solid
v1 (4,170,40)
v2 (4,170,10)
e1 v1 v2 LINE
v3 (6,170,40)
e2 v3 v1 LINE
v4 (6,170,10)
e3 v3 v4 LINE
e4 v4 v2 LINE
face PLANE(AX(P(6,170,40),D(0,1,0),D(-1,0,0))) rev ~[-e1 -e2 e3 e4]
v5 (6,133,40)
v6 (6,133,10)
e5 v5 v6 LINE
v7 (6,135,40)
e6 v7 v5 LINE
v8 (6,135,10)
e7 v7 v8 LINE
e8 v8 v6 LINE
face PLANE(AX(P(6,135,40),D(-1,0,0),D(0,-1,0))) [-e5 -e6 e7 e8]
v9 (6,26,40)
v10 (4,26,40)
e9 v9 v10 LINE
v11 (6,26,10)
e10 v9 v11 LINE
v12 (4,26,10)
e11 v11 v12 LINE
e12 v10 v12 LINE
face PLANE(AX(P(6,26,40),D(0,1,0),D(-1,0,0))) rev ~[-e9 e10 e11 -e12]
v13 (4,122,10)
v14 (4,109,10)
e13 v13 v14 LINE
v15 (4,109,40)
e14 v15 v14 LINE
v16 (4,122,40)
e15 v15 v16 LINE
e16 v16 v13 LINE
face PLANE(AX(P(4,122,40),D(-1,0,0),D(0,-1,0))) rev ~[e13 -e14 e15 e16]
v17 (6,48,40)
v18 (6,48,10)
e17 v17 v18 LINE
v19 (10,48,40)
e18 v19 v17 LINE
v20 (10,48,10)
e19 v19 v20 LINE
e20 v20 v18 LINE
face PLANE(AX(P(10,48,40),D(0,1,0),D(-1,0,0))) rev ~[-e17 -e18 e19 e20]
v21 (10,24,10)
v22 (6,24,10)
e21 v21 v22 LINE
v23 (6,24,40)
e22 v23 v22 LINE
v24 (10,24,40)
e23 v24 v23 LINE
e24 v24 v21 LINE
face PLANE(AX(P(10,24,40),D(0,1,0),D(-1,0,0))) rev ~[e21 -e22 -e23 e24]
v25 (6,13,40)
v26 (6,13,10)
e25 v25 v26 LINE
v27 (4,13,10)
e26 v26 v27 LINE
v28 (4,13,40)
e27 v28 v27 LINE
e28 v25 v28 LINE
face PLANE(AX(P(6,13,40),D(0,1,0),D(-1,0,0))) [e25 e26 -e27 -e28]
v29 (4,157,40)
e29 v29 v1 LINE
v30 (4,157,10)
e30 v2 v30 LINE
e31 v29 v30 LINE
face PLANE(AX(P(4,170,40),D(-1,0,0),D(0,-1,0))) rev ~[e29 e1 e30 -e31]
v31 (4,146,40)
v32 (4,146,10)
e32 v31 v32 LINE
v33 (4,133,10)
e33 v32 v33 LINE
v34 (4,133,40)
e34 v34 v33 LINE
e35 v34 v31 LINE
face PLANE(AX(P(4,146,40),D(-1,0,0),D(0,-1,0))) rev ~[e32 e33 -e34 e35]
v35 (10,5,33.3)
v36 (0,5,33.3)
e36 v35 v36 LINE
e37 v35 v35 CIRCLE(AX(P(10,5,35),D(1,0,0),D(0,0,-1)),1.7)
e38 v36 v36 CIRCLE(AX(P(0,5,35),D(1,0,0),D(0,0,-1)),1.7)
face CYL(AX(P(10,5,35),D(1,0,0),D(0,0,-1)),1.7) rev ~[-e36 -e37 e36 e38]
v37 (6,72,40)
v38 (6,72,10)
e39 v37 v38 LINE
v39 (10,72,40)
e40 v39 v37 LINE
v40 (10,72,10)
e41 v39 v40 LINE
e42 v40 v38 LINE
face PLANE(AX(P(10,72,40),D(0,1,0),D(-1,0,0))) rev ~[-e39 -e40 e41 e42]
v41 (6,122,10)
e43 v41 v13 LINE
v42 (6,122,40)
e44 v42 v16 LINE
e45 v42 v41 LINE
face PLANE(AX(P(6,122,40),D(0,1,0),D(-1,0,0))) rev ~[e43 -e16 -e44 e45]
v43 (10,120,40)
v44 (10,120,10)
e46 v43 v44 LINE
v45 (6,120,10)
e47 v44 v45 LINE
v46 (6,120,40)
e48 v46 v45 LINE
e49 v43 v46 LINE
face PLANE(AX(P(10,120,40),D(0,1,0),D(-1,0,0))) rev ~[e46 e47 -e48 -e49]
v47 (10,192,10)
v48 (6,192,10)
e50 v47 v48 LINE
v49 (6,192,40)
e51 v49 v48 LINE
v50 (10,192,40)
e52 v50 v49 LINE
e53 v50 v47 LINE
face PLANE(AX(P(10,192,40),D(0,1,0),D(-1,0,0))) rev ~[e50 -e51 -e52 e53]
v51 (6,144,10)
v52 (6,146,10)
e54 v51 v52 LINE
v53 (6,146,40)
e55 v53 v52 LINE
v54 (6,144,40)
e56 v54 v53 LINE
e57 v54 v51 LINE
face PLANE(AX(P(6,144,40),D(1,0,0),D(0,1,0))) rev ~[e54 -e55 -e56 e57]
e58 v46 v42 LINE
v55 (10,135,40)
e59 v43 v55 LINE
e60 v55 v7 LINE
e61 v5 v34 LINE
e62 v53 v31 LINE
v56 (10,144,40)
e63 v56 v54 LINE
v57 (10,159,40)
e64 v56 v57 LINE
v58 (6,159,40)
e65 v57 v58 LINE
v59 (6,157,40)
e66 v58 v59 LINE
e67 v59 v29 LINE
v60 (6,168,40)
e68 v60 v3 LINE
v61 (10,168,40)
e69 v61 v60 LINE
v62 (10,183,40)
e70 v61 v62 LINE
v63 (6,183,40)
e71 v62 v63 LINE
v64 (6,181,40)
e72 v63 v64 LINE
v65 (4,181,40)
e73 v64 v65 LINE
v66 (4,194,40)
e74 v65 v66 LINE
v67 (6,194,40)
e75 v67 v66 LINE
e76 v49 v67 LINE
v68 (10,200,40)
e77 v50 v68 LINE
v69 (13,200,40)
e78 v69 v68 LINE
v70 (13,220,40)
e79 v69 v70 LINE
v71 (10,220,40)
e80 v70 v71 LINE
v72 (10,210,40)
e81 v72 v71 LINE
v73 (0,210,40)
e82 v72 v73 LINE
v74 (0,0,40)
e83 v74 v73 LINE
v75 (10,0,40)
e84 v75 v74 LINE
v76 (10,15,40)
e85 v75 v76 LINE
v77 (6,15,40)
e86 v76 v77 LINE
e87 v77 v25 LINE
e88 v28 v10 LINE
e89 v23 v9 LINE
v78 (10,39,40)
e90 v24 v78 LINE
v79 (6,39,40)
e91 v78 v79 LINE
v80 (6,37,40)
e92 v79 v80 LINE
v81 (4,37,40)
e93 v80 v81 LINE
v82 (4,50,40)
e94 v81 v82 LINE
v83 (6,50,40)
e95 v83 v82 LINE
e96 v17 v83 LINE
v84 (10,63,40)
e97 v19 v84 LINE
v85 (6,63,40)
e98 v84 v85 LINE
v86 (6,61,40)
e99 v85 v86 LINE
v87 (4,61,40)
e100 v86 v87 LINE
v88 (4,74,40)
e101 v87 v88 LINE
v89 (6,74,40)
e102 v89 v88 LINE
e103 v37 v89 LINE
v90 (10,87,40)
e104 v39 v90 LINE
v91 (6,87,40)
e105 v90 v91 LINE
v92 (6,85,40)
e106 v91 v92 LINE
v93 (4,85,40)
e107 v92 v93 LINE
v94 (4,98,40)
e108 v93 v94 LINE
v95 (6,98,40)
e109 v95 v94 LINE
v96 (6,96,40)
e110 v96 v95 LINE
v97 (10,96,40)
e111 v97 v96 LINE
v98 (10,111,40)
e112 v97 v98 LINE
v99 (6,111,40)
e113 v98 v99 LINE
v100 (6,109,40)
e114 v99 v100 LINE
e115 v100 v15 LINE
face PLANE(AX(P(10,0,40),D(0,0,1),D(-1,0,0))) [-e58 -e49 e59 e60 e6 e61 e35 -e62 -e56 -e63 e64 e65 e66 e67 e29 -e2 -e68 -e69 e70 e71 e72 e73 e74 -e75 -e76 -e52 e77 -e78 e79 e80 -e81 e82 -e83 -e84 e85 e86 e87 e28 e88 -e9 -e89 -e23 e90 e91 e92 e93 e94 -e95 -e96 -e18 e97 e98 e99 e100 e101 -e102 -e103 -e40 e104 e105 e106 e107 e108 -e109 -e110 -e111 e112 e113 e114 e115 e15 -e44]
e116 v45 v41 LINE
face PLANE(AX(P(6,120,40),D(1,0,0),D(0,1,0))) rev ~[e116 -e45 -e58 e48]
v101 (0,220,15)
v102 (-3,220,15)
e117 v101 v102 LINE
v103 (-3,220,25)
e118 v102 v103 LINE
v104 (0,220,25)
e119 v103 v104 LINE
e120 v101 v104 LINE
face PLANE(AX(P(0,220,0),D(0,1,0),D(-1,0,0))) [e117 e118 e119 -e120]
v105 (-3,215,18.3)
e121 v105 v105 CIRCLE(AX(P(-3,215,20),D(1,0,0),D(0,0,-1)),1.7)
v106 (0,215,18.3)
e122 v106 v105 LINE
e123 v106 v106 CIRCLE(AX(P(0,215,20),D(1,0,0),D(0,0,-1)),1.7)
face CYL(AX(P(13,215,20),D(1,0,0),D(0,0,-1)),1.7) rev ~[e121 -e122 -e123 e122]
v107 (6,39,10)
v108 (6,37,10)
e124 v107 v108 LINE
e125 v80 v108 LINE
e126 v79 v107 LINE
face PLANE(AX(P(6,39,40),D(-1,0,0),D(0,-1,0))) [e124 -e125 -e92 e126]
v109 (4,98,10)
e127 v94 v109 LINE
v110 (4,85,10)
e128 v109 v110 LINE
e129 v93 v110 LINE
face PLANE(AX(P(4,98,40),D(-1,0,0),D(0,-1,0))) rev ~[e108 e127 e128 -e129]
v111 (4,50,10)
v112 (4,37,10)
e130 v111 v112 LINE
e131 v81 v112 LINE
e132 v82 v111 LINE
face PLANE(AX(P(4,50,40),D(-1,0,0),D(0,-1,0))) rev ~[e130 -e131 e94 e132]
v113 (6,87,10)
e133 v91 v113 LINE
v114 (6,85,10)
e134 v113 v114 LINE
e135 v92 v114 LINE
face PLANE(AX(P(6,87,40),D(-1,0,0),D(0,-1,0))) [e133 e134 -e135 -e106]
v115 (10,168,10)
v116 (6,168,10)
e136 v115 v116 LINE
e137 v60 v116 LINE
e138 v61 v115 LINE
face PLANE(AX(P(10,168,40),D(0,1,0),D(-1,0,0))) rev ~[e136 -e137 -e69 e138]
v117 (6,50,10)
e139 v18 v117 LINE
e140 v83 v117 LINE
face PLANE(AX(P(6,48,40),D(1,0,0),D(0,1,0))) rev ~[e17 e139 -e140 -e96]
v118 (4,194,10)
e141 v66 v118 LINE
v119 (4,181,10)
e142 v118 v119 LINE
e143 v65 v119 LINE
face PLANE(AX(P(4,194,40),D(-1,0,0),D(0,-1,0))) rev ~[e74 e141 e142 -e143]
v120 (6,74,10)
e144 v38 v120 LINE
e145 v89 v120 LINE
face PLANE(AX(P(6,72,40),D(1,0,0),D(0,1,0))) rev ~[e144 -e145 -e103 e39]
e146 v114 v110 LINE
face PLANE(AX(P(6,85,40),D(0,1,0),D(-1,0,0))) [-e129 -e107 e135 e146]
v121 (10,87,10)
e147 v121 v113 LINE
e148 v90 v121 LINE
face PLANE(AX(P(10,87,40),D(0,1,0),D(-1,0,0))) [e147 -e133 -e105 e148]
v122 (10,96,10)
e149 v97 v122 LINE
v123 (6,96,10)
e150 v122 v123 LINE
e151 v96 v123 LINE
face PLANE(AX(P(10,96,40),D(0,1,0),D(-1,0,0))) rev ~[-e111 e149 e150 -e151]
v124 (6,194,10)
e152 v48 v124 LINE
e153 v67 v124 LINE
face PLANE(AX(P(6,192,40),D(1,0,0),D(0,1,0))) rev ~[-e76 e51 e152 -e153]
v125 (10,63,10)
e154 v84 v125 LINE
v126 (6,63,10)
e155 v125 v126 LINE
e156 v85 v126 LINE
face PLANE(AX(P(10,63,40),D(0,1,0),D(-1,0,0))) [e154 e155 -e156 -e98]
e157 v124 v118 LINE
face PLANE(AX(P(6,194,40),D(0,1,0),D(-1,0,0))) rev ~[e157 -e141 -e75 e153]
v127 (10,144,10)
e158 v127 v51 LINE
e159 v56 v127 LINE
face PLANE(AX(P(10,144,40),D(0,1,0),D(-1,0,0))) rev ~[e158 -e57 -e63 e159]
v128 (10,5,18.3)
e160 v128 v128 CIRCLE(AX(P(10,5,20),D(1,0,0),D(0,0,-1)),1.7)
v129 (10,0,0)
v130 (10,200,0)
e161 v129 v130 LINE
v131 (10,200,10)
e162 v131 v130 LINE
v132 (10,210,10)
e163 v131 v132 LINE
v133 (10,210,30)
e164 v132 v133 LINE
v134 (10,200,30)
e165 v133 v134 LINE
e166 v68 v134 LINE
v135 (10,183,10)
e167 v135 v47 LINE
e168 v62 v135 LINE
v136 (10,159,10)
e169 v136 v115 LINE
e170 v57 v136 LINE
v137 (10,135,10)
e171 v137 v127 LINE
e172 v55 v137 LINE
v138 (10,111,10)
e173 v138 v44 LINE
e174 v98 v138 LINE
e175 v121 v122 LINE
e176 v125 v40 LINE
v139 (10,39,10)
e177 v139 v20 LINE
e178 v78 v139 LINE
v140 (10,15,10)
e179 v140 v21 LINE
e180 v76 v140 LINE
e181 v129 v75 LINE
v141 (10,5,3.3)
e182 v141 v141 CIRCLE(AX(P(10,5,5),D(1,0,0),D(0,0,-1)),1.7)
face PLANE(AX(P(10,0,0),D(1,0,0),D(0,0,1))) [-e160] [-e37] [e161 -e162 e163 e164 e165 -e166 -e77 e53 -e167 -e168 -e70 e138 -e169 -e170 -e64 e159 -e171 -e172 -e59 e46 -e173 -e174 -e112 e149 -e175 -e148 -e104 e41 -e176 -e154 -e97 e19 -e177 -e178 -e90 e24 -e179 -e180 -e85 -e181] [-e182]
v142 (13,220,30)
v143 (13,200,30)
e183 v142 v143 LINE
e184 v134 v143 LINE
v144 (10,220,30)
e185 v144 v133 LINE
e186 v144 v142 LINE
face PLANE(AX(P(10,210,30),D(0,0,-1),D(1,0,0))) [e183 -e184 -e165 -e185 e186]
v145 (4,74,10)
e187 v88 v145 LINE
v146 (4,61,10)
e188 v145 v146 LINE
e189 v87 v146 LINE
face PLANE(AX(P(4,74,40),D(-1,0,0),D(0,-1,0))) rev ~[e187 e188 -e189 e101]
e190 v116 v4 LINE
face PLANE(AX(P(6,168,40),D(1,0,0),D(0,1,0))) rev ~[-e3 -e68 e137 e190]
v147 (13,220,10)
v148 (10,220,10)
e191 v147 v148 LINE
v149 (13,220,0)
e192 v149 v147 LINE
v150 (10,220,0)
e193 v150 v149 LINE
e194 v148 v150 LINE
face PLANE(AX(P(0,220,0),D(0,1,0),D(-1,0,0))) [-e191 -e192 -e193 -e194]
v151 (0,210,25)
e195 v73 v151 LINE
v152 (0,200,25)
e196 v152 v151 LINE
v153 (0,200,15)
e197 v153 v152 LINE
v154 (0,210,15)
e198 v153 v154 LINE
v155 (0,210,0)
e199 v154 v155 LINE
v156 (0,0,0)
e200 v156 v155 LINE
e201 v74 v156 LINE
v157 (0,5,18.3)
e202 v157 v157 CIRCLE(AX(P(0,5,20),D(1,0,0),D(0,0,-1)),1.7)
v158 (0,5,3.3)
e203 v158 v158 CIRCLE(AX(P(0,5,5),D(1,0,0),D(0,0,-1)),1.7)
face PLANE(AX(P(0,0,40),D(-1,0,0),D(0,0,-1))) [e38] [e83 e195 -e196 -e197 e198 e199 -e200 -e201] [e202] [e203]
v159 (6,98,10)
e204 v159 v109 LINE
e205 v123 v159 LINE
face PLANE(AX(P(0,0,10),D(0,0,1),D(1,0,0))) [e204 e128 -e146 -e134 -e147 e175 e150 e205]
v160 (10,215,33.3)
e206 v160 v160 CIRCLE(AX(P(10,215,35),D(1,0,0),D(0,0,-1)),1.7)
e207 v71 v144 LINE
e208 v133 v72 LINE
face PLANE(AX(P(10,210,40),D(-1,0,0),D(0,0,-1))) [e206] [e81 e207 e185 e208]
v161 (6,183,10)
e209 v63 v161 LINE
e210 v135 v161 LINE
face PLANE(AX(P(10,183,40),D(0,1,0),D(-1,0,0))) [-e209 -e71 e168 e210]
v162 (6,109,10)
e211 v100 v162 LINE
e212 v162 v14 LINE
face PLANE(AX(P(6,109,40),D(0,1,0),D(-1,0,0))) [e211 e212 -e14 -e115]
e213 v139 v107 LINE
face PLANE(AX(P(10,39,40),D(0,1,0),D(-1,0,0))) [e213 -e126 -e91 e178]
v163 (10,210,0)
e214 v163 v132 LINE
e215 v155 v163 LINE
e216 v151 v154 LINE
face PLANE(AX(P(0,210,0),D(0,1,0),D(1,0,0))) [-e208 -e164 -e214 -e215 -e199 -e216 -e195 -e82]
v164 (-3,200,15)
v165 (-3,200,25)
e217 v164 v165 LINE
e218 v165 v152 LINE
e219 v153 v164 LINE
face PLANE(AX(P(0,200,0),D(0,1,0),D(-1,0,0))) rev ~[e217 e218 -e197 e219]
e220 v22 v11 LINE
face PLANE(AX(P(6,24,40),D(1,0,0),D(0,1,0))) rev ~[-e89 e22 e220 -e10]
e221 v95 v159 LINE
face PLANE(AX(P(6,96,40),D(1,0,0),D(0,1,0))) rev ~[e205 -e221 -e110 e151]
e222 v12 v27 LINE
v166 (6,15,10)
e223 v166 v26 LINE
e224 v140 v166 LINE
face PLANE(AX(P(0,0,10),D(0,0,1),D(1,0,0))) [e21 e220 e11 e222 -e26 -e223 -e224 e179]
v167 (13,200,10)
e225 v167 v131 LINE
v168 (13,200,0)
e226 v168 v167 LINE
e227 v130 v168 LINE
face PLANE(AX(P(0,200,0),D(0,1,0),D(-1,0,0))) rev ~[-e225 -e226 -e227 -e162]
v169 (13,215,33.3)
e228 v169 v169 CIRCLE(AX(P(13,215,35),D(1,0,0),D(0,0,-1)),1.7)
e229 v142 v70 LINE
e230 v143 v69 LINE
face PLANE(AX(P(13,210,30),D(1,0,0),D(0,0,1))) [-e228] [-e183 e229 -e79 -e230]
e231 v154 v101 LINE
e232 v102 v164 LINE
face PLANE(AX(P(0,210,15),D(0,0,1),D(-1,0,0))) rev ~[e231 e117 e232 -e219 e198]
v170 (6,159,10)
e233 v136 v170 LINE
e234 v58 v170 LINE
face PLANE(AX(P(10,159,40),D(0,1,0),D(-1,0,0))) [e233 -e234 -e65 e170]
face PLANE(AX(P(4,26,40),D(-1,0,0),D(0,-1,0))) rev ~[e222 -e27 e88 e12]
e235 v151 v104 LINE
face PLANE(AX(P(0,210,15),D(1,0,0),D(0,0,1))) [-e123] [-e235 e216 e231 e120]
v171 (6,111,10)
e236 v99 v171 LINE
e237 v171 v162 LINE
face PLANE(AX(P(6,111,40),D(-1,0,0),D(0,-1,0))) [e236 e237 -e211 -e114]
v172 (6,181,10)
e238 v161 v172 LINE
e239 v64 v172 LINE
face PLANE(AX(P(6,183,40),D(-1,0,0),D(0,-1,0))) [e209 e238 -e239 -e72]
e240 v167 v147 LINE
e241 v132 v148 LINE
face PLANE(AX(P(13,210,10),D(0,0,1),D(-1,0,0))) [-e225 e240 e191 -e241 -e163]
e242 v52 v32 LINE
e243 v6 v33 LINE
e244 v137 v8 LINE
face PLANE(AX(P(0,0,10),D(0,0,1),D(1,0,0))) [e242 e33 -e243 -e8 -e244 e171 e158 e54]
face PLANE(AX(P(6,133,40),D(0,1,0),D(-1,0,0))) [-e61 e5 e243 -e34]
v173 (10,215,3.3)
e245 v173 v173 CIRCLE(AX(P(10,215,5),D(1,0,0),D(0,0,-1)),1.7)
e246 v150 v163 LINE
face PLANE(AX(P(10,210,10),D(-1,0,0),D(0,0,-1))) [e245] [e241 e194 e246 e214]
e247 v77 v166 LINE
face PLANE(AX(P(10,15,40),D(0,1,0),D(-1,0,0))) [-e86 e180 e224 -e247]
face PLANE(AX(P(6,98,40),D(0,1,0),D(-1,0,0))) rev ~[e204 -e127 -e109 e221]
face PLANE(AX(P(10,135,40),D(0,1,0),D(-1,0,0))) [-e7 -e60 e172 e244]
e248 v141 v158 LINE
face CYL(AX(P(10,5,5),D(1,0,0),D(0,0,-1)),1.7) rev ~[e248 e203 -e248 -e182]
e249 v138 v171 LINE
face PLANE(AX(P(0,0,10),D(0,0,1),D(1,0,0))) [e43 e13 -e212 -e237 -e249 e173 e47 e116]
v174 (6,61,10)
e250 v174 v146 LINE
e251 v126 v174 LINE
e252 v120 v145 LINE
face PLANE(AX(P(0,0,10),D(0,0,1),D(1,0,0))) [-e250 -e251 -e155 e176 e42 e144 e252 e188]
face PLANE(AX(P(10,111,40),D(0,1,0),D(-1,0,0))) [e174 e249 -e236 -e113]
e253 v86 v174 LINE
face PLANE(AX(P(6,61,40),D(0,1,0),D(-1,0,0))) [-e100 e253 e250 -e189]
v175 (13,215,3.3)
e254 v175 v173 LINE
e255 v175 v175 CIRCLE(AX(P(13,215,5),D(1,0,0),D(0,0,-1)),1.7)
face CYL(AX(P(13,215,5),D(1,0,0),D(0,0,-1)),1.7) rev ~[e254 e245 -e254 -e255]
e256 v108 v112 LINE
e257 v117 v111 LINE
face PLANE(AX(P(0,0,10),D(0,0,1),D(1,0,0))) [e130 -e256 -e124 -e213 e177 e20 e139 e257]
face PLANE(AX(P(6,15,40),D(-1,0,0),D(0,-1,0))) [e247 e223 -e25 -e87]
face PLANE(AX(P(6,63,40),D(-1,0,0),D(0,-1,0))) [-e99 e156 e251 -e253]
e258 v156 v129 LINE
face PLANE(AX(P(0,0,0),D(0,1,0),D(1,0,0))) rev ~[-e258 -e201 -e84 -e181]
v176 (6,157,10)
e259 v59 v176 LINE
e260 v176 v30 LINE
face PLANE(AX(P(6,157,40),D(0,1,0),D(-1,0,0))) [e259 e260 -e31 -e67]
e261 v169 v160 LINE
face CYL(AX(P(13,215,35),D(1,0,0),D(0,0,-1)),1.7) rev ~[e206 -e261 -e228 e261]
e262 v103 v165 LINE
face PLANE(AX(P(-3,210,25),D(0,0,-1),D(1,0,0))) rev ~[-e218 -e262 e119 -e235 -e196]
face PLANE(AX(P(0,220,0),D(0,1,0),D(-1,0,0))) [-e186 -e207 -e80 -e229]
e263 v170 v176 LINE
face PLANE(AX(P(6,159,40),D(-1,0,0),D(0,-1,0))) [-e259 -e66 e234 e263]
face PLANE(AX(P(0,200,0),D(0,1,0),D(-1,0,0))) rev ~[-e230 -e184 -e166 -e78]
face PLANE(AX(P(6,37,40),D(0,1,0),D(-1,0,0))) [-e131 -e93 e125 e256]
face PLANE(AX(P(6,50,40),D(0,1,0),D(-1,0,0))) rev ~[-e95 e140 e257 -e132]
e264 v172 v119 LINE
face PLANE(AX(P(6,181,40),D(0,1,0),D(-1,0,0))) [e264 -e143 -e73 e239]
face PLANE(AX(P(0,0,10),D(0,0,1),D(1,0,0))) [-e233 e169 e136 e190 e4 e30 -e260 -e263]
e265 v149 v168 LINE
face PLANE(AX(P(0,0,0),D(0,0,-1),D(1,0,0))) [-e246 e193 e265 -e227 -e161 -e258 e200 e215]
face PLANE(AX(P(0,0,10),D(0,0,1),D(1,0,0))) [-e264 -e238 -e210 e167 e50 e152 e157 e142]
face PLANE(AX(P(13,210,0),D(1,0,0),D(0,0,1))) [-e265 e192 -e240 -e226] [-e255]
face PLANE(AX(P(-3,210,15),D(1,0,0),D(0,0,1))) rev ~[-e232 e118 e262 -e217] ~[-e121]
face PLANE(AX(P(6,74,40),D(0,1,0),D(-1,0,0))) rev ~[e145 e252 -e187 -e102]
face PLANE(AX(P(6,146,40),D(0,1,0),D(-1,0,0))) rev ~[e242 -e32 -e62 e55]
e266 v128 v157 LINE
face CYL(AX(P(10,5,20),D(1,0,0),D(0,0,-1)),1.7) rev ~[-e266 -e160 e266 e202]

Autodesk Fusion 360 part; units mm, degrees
sketch "Sketch1" plane through (0, 0, 0) normal (0, 1, 0) x (1, 0, 0)
  line L0 (0, 0) -> (10, 0)
  line L1 (10, 0) -> (10, -40)
  line L2 (10, -40) -> (0, -40)
  line L3 (0, -40) -> (0, 0)
  dimension "d1" = 10
  dimension "d2" = 40
extrude "Extrude1" add sketch "Sketch1" along normal blind 210
sketch "Sketch2" plane through (0, 210, 0) normal (0, 1, 0) x (-1, 0, 0)
  line L0 (0, 40) -> (-10, 40)
  line L1 (-10, 40) -> (-10, 0)
  line L2 (-10, 0) -> (0, 0)
  line L3 (0, 0) -> (0, 40)
  line L4 (0, 15) -> (3, 15)
  line L5 (3, 15) -> (3, 25)
  line L6 (3, 25) -> (0, 25)
  line L7 (0, 25) -> (0, 15)
  line L8 (-10, 0) -> (-13, 0)
  line L9 (-13, 0) -> (-13, 10)
  line L10 (-13, 10) -> (-10, 10)
  line L11 (-10, 10) -> (-10, 0)
  line L12 (-10, 30) -> (-13, 30)
  line L13 (-13, 30) -> (-13, 40)
  line L14 (-13, 40) -> (-10, 40)
  line L15 (-10, 40) -> (-10, 30)
  dimension "d5" = 3
  dimension "d10" = 3
  dimension "d11" = 3
extrude "Extrude2" add sketch "Sketch2" along normal blind 10 and the other way blind 10 contours L1 L12 L13 L14 L15 | L3 L4 L5 L6 L7 | L1 L8 L9 L10 L11
sketch "Sketch3" plane through (10, 0, 0) normal (1, 0, 0) x (0, 0, -1)
  line L0 (-10, 200) -> (-10, 210)
  line L1 (-10, 210) -> (-30, 210)
  line L2 (-30, 210) -> (-30, 200)
  line L3 (-30, 200) -> (-40, 200)
  line L4 (-40, 200) -> (-40, 0)
  line L5 (-40, 0) -> (0, 0)
  line L6 (0, 0) -> (0, 200)
  line L7 (0, 200) -> (-10, 200)
sketch "Sketch4" plane through (0, 0, 40) normal (0, 0, 1) x (1, 0, 0)
  line L0 (0, 0) -> (10, 0)
  line L1 (10, 0) -> (10, 200)
  line L2 (10, 200) -> (13, 200)
  line L3 (13, 200) -> (13, 220)
  line L4 (13, 220) -> (10, 220)
  line L5 (10, 220) -> (10, 210)
  line L6 (10, 210) -> (0, 210)
  line L7 (0, 210) -> (0, 0)
  line L8 (10, 15) -> (4, 15)
  line L9 (4, 15) -> (4, 20)
  line L10 (4, 20) -> (10, 20)
  line L11 (10, 20) -> (10, 15)
  line L12 (4, 20) -> (7, 20)
  line L13 (7, 20) -> (7, 22)
  line L14 (7, 22) -> (4, 22)
  line L15 (4, 22) -> (4, 20)
  line L16 (4, 22) -> (10, 22)
  line L17 (10, 22) -> (10, 24)
  line L18 (10, 24) -> (4, 24)
  line L19 (4, 24) -> (4, 22)
  line L20 (4, 44) -> (10, 44)
  line L21 (4, 46) -> (10, 46)
  line L22 (7, 44) -> (7, 46)
  line L23 (4, 46) -> (4, 44)
  line L24 (10, 48) -> (4, 48)
  line L25 (4, 39) -> (4, 44)
  line L26 (10, 39) -> (4, 39)
  line L27 (10, 44) -> (10, 39)
  line L28 (10, 46) -> (10, 48)
  line L29 (4, 48) -> (4, 46)
  line L30 (4, 68) -> (10, 68)
  line L31 (4, 70) -> (10, 70)
  line L32 (7, 68) -> (7, 70)
  line L33 (4, 70) -> (4, 68)
  line L34 (10, 72) -> (4, 72)
  line L35 (4, 63) -> (4, 68)
  line L36 (10, 63) -> (4, 63)
  line L37 (10, 68) -> (10, 63)
  line L38 (10, 70) -> (10, 72)
  line L39 (4, 72) -> (4, 70)
  line L40 (4, 92) -> (10, 92)
  line L41 (4, 94) -> (10, 94)
  line L42 (7, 92) -> (7, 94)
  line L43 (4, 94) -> (4, 92)
  line L44 (10, 96) -> (4, 96)
  line L45 (4, 87) -> (4, 92)
  line L46 (10, 87) -> (4, 87)
  line L47 (10, 92) -> (10, 87)
  line L48 (10, 94) -> (10, 96)
  line L49 (4, 96) -> (4, 94)
  line L50 (4, 116) -> (10, 116)
  line L51 (4, 118) -> (10, 118)
  line L52 (7, 116) -> (7, 118)
  line L53 (4, 118) -> (4, 116)
  line L54 (10, 120) -> (4, 120)
  line L55 (4, 111) -> (4, 116)
  line L56 (10, 111) -> (4, 111)
  line L57 (10, 116) -> (10, 111)
  line L58 (10, 118) -> (10, 120)
  line L59 (4, 120) -> (4, 118)
  line L60 (4, 140) -> (10, 140)
  line L61 (4, 142) -> (10, 142)
  line L62 (7, 140) -> (7, 142)
  line L63 (4, 142) -> (4, 140)
  line L64 (10, 144) -> (4, 144)
  line L65 (4, 135) -> (4, 140)
  line L66 (10, 135) -> (4, 135)
  line L67 (10, 140) -> (10, 135)
  line L68 (10, 142) -> (10, 144)
  line L69 (4, 144) -> (4, 142)
  line L70 (4, 164) -> (10, 164)
  line L71 (4, 166) -> (10, 166)
  line L72 (7, 164) -> (7, 166)
  line L73 (4, 166) -> (4, 164)
  line L74 (10, 168) -> (4, 168)
  line L75 (4, 159) -> (4, 164)
  line L76 (10, 159) -> (4, 159)
  line L77 (10, 164) -> (10, 159)
  line L78 (10, 166) -> (10, 168)
  line L79 (4, 168) -> (4, 166)
  line L80 (4, 188) -> (10, 188)
  line L81 (4, 190) -> (10, 190)
  line L82 (7, 188) -> (7, 190)
  line L83 (4, 190) -> (4, 188)
  line L84 (10, 192) -> (4, 192)
  line L85 (4, 183) -> (4, 188)
  line L86 (10, 183) -> (4, 183)
  line L87 (10, 188) -> (10, 183)
  line L88 (10, 190) -> (10, 192)
  line L89 (4, 192) -> (4, 190)
  dimension "d12" = 5
  dimension "d13" = 2
  dimension "d14" = 2
  dimension "d15" = 6
  dimension "d16" = 3
  dimension "d17" = 15
  dimension "d20" = 168
  dimension "d21" = 0
extrude "Extrude3" cut sketch "Sketch4" against normal blind 30 contours L1 L8 L9 L10 L11 L12 | L1 L10 L13 L16 | L1 L14 L16 L17 L18 L19 | L10 L12 L13 L14 L15 L16 | L1 L20 L25 L26 L27 | L1 L20 L21 L22 | L1 L81 L84 L88 L89 | L1 L21 L24 L28 L29 | L20 L21 L22 L23 | L1 L80 L81 L82 | L1 L80 L85 L86 L87 | L80 L81 L82 L83 | L1 L30 L35 L36 L37 | L1 L30 L31 L32 | L1 L71 L74 L78 L79 | L1 L31 L34 L38 L39 | L30 L31 L32 L33 | L1 L70 L71 L72 | L1 L70 L75 L76 L77 | L70 L71 L72 L73 | L1 L40 L45 L46 L47 | L1 L40 L41 L42 | L1 L61 L64 L68 L69 | L1 L41 L44 L48 L49 | L40 L41 L42 L43 | L1 L60 L61 L62 | L1 L60 L65 L66 L67 | L60 L61 L62 L63 | L1 L50 L55 L56 L57 | L1 L50 L51 L52 | L1 L51 L54 L58 L59 | L50 L51 L52 L53
sketch "Sketch6" plane through (0, 0, 40) normal (0, 0, 1) x (1, 0, 0)
  line L0 (4, 120) -> (10, 120)
  line L1 (10, 120) -> (10, 135)
  line L2 (10, 135) -> (4, 135)
  line L3 (4, 135) -> (4, 144)
  line L4 (4, 144) -> (10, 144)
  line L5 (10, 144) -> (10, 159)
  line L6 (10, 159) -> (4, 159)
  line L7 (4, 159) -> (4, 168)
  line L8 (4, 168) -> (10, 168)
  line L9 (10, 168) -> (10, 183)
  line L10 (10, 183) -> (4, 183)
  line L11 (4, 183) -> (4, 192)
  line L12 (4, 192) -> (10, 192)
  line L13 (10, 192) -> (10, 200)
  line L14 (10, 200) -> (13, 200)
  line L15 (13, 200) -> (13, 220)
  line L16 (13, 220) -> (10, 220)
  line L17 (10, 220) -> (10, 210)
  line L18 (10, 210) -> (0, 210)
  line L19 (0, 210) -> (0, 0)
  line L20 (0, 0) -> (10, 0)
  line L21 (10, 0) -> (10, 15)
  line L22 (10, 15) -> (4, 15)
  line L23 (4, 15) -> (4, 24)
  line L24 (4, 24) -> (10, 24)
  line L25 (10, 24) -> (10, 39)
  line L26 (10, 39) -> (4, 39)
  line L27 (4, 39) -> (4, 48)
  line L28 (4, 48) -> (10, 48)
  line L29 (10, 48) -> (10, 63)
  line L30 (10, 63) -> (4, 63)
  line L31 (4, 63) -> (4, 72)
  line L32 (4, 72) -> (10, 72)
  line L33 (10, 72) -> (10, 87)
  line L34 (10, 87) -> (4, 87)
  line L35 (4, 87) -> (4, 96)
  line L36 (4, 96) -> (10, 96)
  line L37 (10, 96) -> (10, 111)
  line L38 (10, 111) -> (4, 111)
  line L39 (4, 111) -> (4, 120)
  line L40 (4, 192) -> (6, 192)
  line L41 (6, 192) -> (6, 194)
  line L42 (6, 194) -> (4, 194)
  line L43 (4, 194) -> (4, 192)
  line L44 (4, 183) -> (6, 183)
  line L45 (6, 183) -> (6, 181)
  line L46 (6, 181) -> (4, 181)
  line L47 (4, 181) -> (4, 183)
  line L48 (6, 157) -> (4, 157)
  line L49 (6, 159) -> (6, 157)
  line L50 (4, 159) -> (6, 159)
  line L51 (4, 157) -> (4, 159)
  line L52 (4, 168) -> (6, 168)
  line L53 (6, 168) -> (6, 170)
  line L54 (6, 170) -> (4, 170)
  line L55 (4, 170) -> (4, 168)
  line L56 (6, 133) -> (4, 133)
  line L57 (6, 135) -> (6, 133)
  line L58 (4, 135) -> (6, 135)
  line L59 (4, 133) -> (4, 135)
  line L60 (4, 144) -> (6, 144)
  line L61 (6, 144) -> (6, 146)
  line L62 (6, 146) -> (4, 146)
  line L63 (4, 146) -> (4, 144)
  line L64 (6, 109) -> (4, 109)
  line L65 (6, 111) -> (6, 109)
  line L66 (4, 111) -> (6, 111)
  line L67 (4, 109) -> (4, 111)
  line L68 (4, 120) -> (6, 120)
  line L69 (6, 120) -> (6, 122)
  line L70 (6, 122) -> (4, 122)
  line L71 (4, 122) -> (4, 120)
  line L72 (6, 85) -> (4, 85)
  line L73 (6, 87) -> (6, 85)
  line L74 (4, 87) -> (6, 87)
  line L75 (4, 85) -> (4, 87)
  line L76 (4, 96) -> (6, 96)
  line L77 (6, 96) -> (6, 98)
  line L78 (6, 98) -> (4, 98)
  line L79 (4, 98) -> (4, 96)
  line L80 (6, 61) -> (4, 61)
  line L81 (6, 63) -> (6, 61)
  line L82 (4, 63) -> (6, 63)
  line L83 (4, 61) -> (4, 63)
  line L84 (4, 72) -> (6, 72)
  line L85 (6, 72) -> (6, 74)
  line L86 (6, 74) -> (4, 74)
  line L87 (4, 74) -> (4, 72)
  line L88 (6, 37) -> (4, 37)
  line L89 (6, 39) -> (6, 37)
  line L90 (4, 39) -> (6, 39)
  line L91 (4, 37) -> (4, 39)
  line L92 (4, 48) -> (6, 48)
  line L93 (6, 48) -> (6, 50)
  line L94 (6, 50) -> (4, 50)
  line L95 (4, 50) -> (4, 48)
  line L96 (6, 13) -> (4, 13)
  line L97 (6, 15) -> (6, 13)
  line L98 (4, 15) -> (6, 15)
  line L99 (4, 13) -> (4, 15)
  line L100 (4, 24) -> (6, 24)
  line L101 (6, 24) -> (6, 26)
  line L102 (6, 26) -> (4, 26)
  line L103 (4, 26) -> (4, 24)
  dimension "d31" = 2
  dimension "d32" = 2
  dimension "d33" = 2
  dimension "d34" = 2
  dimension "d37" = -168
  dimension "d38" = 0
extrude "Extrude5" cut sketch "Sketch6" against normal blind 30 contours L0 L68 L69 L70 L71 | L38 L64 L65 L66 L67 | L2 L56 L57 L58 L59 | L36 L76 L77 L78 L79 | L4 L60 L61 L62 L63 | L34 L72 L73 L74 L75 | L6 L48 L49 L50 L51 | L32 L84 L85 L86 L87 | L8 L52 L53 L54 L55 | L30 L80 L81 L82 L83 | L10 L44 L45 L46 L47 | L28 L92 L93 L94 L95 | L12 L40 L41 L42 L43 | L26 L88 L89 L90 L91 | L24 L100 L101 L102 L103 | L22 L96 L97 L98 L99
sketch "Sketch7" plane through (13, 0, 0) normal (1, 0, 0) x (0, 0, -1)
  line L0 (-30, 200) -> (-30, 220)
  line L1 (-30, 220) -> (-40, 220)
  line L2 (-40, 220) -> (-40, 200)
  line L3 (-40, 200) -> (-30, 200)
  circle A0 centre (-35, 215) radius 1.7
  circle A1 centre (-5, 215) radius 1.7
  circle A2 centre (-20, 215) radius 1.7
  line L4 (-35, 220) -> (-35, 200) construction
  line L5 (-5, 220) -> (-5, 200) construction
  line L6 (-20, 220) -> (-20, 210) construction
  line L7 (-25, 220) -> (-15, 220)
  line L8 (-10, 220) -> (0, 220)
  dimension "d41" = 3.4
  dimension "d42" = 3.4
  dimension "d43" = 3.4
  dimension "d44" = 5
  dimension "d45" = 5
  dimension "d46" = 5
extrude "Extrude6" cut sketch "Sketch7" against normal blind 40 contours A0 | A1 | A2
sketch "Sketch8" plane through (10, 0, 0) normal (1, 0, 0) x (0, 0, -1)
  circle A0 centre (-35, 5) radius 1.7
  circle A1 centre (-20, 5) radius 1.7
  circle A2 centre (-5, 5) radius 1.7
  line L0 (-40, 0) -> (0, 0)
  line L1 (-40, 200) -> (-40, 0)
  line L2 (0, 0) -> (0, 200)
  dimension "d49" = 3.4
  dimension "d50" = 3.4
  dimension "d51" = 3.4
  dimension "d52" = 5
  dimension "d53" = 5
  dimension "d54" = 5
  dimension "d55" = 5
  dimension "d56" = 5
  dimension "d57" = 20
extrude "Extrude7" cut sketch "Sketch8" against normal blind 37
